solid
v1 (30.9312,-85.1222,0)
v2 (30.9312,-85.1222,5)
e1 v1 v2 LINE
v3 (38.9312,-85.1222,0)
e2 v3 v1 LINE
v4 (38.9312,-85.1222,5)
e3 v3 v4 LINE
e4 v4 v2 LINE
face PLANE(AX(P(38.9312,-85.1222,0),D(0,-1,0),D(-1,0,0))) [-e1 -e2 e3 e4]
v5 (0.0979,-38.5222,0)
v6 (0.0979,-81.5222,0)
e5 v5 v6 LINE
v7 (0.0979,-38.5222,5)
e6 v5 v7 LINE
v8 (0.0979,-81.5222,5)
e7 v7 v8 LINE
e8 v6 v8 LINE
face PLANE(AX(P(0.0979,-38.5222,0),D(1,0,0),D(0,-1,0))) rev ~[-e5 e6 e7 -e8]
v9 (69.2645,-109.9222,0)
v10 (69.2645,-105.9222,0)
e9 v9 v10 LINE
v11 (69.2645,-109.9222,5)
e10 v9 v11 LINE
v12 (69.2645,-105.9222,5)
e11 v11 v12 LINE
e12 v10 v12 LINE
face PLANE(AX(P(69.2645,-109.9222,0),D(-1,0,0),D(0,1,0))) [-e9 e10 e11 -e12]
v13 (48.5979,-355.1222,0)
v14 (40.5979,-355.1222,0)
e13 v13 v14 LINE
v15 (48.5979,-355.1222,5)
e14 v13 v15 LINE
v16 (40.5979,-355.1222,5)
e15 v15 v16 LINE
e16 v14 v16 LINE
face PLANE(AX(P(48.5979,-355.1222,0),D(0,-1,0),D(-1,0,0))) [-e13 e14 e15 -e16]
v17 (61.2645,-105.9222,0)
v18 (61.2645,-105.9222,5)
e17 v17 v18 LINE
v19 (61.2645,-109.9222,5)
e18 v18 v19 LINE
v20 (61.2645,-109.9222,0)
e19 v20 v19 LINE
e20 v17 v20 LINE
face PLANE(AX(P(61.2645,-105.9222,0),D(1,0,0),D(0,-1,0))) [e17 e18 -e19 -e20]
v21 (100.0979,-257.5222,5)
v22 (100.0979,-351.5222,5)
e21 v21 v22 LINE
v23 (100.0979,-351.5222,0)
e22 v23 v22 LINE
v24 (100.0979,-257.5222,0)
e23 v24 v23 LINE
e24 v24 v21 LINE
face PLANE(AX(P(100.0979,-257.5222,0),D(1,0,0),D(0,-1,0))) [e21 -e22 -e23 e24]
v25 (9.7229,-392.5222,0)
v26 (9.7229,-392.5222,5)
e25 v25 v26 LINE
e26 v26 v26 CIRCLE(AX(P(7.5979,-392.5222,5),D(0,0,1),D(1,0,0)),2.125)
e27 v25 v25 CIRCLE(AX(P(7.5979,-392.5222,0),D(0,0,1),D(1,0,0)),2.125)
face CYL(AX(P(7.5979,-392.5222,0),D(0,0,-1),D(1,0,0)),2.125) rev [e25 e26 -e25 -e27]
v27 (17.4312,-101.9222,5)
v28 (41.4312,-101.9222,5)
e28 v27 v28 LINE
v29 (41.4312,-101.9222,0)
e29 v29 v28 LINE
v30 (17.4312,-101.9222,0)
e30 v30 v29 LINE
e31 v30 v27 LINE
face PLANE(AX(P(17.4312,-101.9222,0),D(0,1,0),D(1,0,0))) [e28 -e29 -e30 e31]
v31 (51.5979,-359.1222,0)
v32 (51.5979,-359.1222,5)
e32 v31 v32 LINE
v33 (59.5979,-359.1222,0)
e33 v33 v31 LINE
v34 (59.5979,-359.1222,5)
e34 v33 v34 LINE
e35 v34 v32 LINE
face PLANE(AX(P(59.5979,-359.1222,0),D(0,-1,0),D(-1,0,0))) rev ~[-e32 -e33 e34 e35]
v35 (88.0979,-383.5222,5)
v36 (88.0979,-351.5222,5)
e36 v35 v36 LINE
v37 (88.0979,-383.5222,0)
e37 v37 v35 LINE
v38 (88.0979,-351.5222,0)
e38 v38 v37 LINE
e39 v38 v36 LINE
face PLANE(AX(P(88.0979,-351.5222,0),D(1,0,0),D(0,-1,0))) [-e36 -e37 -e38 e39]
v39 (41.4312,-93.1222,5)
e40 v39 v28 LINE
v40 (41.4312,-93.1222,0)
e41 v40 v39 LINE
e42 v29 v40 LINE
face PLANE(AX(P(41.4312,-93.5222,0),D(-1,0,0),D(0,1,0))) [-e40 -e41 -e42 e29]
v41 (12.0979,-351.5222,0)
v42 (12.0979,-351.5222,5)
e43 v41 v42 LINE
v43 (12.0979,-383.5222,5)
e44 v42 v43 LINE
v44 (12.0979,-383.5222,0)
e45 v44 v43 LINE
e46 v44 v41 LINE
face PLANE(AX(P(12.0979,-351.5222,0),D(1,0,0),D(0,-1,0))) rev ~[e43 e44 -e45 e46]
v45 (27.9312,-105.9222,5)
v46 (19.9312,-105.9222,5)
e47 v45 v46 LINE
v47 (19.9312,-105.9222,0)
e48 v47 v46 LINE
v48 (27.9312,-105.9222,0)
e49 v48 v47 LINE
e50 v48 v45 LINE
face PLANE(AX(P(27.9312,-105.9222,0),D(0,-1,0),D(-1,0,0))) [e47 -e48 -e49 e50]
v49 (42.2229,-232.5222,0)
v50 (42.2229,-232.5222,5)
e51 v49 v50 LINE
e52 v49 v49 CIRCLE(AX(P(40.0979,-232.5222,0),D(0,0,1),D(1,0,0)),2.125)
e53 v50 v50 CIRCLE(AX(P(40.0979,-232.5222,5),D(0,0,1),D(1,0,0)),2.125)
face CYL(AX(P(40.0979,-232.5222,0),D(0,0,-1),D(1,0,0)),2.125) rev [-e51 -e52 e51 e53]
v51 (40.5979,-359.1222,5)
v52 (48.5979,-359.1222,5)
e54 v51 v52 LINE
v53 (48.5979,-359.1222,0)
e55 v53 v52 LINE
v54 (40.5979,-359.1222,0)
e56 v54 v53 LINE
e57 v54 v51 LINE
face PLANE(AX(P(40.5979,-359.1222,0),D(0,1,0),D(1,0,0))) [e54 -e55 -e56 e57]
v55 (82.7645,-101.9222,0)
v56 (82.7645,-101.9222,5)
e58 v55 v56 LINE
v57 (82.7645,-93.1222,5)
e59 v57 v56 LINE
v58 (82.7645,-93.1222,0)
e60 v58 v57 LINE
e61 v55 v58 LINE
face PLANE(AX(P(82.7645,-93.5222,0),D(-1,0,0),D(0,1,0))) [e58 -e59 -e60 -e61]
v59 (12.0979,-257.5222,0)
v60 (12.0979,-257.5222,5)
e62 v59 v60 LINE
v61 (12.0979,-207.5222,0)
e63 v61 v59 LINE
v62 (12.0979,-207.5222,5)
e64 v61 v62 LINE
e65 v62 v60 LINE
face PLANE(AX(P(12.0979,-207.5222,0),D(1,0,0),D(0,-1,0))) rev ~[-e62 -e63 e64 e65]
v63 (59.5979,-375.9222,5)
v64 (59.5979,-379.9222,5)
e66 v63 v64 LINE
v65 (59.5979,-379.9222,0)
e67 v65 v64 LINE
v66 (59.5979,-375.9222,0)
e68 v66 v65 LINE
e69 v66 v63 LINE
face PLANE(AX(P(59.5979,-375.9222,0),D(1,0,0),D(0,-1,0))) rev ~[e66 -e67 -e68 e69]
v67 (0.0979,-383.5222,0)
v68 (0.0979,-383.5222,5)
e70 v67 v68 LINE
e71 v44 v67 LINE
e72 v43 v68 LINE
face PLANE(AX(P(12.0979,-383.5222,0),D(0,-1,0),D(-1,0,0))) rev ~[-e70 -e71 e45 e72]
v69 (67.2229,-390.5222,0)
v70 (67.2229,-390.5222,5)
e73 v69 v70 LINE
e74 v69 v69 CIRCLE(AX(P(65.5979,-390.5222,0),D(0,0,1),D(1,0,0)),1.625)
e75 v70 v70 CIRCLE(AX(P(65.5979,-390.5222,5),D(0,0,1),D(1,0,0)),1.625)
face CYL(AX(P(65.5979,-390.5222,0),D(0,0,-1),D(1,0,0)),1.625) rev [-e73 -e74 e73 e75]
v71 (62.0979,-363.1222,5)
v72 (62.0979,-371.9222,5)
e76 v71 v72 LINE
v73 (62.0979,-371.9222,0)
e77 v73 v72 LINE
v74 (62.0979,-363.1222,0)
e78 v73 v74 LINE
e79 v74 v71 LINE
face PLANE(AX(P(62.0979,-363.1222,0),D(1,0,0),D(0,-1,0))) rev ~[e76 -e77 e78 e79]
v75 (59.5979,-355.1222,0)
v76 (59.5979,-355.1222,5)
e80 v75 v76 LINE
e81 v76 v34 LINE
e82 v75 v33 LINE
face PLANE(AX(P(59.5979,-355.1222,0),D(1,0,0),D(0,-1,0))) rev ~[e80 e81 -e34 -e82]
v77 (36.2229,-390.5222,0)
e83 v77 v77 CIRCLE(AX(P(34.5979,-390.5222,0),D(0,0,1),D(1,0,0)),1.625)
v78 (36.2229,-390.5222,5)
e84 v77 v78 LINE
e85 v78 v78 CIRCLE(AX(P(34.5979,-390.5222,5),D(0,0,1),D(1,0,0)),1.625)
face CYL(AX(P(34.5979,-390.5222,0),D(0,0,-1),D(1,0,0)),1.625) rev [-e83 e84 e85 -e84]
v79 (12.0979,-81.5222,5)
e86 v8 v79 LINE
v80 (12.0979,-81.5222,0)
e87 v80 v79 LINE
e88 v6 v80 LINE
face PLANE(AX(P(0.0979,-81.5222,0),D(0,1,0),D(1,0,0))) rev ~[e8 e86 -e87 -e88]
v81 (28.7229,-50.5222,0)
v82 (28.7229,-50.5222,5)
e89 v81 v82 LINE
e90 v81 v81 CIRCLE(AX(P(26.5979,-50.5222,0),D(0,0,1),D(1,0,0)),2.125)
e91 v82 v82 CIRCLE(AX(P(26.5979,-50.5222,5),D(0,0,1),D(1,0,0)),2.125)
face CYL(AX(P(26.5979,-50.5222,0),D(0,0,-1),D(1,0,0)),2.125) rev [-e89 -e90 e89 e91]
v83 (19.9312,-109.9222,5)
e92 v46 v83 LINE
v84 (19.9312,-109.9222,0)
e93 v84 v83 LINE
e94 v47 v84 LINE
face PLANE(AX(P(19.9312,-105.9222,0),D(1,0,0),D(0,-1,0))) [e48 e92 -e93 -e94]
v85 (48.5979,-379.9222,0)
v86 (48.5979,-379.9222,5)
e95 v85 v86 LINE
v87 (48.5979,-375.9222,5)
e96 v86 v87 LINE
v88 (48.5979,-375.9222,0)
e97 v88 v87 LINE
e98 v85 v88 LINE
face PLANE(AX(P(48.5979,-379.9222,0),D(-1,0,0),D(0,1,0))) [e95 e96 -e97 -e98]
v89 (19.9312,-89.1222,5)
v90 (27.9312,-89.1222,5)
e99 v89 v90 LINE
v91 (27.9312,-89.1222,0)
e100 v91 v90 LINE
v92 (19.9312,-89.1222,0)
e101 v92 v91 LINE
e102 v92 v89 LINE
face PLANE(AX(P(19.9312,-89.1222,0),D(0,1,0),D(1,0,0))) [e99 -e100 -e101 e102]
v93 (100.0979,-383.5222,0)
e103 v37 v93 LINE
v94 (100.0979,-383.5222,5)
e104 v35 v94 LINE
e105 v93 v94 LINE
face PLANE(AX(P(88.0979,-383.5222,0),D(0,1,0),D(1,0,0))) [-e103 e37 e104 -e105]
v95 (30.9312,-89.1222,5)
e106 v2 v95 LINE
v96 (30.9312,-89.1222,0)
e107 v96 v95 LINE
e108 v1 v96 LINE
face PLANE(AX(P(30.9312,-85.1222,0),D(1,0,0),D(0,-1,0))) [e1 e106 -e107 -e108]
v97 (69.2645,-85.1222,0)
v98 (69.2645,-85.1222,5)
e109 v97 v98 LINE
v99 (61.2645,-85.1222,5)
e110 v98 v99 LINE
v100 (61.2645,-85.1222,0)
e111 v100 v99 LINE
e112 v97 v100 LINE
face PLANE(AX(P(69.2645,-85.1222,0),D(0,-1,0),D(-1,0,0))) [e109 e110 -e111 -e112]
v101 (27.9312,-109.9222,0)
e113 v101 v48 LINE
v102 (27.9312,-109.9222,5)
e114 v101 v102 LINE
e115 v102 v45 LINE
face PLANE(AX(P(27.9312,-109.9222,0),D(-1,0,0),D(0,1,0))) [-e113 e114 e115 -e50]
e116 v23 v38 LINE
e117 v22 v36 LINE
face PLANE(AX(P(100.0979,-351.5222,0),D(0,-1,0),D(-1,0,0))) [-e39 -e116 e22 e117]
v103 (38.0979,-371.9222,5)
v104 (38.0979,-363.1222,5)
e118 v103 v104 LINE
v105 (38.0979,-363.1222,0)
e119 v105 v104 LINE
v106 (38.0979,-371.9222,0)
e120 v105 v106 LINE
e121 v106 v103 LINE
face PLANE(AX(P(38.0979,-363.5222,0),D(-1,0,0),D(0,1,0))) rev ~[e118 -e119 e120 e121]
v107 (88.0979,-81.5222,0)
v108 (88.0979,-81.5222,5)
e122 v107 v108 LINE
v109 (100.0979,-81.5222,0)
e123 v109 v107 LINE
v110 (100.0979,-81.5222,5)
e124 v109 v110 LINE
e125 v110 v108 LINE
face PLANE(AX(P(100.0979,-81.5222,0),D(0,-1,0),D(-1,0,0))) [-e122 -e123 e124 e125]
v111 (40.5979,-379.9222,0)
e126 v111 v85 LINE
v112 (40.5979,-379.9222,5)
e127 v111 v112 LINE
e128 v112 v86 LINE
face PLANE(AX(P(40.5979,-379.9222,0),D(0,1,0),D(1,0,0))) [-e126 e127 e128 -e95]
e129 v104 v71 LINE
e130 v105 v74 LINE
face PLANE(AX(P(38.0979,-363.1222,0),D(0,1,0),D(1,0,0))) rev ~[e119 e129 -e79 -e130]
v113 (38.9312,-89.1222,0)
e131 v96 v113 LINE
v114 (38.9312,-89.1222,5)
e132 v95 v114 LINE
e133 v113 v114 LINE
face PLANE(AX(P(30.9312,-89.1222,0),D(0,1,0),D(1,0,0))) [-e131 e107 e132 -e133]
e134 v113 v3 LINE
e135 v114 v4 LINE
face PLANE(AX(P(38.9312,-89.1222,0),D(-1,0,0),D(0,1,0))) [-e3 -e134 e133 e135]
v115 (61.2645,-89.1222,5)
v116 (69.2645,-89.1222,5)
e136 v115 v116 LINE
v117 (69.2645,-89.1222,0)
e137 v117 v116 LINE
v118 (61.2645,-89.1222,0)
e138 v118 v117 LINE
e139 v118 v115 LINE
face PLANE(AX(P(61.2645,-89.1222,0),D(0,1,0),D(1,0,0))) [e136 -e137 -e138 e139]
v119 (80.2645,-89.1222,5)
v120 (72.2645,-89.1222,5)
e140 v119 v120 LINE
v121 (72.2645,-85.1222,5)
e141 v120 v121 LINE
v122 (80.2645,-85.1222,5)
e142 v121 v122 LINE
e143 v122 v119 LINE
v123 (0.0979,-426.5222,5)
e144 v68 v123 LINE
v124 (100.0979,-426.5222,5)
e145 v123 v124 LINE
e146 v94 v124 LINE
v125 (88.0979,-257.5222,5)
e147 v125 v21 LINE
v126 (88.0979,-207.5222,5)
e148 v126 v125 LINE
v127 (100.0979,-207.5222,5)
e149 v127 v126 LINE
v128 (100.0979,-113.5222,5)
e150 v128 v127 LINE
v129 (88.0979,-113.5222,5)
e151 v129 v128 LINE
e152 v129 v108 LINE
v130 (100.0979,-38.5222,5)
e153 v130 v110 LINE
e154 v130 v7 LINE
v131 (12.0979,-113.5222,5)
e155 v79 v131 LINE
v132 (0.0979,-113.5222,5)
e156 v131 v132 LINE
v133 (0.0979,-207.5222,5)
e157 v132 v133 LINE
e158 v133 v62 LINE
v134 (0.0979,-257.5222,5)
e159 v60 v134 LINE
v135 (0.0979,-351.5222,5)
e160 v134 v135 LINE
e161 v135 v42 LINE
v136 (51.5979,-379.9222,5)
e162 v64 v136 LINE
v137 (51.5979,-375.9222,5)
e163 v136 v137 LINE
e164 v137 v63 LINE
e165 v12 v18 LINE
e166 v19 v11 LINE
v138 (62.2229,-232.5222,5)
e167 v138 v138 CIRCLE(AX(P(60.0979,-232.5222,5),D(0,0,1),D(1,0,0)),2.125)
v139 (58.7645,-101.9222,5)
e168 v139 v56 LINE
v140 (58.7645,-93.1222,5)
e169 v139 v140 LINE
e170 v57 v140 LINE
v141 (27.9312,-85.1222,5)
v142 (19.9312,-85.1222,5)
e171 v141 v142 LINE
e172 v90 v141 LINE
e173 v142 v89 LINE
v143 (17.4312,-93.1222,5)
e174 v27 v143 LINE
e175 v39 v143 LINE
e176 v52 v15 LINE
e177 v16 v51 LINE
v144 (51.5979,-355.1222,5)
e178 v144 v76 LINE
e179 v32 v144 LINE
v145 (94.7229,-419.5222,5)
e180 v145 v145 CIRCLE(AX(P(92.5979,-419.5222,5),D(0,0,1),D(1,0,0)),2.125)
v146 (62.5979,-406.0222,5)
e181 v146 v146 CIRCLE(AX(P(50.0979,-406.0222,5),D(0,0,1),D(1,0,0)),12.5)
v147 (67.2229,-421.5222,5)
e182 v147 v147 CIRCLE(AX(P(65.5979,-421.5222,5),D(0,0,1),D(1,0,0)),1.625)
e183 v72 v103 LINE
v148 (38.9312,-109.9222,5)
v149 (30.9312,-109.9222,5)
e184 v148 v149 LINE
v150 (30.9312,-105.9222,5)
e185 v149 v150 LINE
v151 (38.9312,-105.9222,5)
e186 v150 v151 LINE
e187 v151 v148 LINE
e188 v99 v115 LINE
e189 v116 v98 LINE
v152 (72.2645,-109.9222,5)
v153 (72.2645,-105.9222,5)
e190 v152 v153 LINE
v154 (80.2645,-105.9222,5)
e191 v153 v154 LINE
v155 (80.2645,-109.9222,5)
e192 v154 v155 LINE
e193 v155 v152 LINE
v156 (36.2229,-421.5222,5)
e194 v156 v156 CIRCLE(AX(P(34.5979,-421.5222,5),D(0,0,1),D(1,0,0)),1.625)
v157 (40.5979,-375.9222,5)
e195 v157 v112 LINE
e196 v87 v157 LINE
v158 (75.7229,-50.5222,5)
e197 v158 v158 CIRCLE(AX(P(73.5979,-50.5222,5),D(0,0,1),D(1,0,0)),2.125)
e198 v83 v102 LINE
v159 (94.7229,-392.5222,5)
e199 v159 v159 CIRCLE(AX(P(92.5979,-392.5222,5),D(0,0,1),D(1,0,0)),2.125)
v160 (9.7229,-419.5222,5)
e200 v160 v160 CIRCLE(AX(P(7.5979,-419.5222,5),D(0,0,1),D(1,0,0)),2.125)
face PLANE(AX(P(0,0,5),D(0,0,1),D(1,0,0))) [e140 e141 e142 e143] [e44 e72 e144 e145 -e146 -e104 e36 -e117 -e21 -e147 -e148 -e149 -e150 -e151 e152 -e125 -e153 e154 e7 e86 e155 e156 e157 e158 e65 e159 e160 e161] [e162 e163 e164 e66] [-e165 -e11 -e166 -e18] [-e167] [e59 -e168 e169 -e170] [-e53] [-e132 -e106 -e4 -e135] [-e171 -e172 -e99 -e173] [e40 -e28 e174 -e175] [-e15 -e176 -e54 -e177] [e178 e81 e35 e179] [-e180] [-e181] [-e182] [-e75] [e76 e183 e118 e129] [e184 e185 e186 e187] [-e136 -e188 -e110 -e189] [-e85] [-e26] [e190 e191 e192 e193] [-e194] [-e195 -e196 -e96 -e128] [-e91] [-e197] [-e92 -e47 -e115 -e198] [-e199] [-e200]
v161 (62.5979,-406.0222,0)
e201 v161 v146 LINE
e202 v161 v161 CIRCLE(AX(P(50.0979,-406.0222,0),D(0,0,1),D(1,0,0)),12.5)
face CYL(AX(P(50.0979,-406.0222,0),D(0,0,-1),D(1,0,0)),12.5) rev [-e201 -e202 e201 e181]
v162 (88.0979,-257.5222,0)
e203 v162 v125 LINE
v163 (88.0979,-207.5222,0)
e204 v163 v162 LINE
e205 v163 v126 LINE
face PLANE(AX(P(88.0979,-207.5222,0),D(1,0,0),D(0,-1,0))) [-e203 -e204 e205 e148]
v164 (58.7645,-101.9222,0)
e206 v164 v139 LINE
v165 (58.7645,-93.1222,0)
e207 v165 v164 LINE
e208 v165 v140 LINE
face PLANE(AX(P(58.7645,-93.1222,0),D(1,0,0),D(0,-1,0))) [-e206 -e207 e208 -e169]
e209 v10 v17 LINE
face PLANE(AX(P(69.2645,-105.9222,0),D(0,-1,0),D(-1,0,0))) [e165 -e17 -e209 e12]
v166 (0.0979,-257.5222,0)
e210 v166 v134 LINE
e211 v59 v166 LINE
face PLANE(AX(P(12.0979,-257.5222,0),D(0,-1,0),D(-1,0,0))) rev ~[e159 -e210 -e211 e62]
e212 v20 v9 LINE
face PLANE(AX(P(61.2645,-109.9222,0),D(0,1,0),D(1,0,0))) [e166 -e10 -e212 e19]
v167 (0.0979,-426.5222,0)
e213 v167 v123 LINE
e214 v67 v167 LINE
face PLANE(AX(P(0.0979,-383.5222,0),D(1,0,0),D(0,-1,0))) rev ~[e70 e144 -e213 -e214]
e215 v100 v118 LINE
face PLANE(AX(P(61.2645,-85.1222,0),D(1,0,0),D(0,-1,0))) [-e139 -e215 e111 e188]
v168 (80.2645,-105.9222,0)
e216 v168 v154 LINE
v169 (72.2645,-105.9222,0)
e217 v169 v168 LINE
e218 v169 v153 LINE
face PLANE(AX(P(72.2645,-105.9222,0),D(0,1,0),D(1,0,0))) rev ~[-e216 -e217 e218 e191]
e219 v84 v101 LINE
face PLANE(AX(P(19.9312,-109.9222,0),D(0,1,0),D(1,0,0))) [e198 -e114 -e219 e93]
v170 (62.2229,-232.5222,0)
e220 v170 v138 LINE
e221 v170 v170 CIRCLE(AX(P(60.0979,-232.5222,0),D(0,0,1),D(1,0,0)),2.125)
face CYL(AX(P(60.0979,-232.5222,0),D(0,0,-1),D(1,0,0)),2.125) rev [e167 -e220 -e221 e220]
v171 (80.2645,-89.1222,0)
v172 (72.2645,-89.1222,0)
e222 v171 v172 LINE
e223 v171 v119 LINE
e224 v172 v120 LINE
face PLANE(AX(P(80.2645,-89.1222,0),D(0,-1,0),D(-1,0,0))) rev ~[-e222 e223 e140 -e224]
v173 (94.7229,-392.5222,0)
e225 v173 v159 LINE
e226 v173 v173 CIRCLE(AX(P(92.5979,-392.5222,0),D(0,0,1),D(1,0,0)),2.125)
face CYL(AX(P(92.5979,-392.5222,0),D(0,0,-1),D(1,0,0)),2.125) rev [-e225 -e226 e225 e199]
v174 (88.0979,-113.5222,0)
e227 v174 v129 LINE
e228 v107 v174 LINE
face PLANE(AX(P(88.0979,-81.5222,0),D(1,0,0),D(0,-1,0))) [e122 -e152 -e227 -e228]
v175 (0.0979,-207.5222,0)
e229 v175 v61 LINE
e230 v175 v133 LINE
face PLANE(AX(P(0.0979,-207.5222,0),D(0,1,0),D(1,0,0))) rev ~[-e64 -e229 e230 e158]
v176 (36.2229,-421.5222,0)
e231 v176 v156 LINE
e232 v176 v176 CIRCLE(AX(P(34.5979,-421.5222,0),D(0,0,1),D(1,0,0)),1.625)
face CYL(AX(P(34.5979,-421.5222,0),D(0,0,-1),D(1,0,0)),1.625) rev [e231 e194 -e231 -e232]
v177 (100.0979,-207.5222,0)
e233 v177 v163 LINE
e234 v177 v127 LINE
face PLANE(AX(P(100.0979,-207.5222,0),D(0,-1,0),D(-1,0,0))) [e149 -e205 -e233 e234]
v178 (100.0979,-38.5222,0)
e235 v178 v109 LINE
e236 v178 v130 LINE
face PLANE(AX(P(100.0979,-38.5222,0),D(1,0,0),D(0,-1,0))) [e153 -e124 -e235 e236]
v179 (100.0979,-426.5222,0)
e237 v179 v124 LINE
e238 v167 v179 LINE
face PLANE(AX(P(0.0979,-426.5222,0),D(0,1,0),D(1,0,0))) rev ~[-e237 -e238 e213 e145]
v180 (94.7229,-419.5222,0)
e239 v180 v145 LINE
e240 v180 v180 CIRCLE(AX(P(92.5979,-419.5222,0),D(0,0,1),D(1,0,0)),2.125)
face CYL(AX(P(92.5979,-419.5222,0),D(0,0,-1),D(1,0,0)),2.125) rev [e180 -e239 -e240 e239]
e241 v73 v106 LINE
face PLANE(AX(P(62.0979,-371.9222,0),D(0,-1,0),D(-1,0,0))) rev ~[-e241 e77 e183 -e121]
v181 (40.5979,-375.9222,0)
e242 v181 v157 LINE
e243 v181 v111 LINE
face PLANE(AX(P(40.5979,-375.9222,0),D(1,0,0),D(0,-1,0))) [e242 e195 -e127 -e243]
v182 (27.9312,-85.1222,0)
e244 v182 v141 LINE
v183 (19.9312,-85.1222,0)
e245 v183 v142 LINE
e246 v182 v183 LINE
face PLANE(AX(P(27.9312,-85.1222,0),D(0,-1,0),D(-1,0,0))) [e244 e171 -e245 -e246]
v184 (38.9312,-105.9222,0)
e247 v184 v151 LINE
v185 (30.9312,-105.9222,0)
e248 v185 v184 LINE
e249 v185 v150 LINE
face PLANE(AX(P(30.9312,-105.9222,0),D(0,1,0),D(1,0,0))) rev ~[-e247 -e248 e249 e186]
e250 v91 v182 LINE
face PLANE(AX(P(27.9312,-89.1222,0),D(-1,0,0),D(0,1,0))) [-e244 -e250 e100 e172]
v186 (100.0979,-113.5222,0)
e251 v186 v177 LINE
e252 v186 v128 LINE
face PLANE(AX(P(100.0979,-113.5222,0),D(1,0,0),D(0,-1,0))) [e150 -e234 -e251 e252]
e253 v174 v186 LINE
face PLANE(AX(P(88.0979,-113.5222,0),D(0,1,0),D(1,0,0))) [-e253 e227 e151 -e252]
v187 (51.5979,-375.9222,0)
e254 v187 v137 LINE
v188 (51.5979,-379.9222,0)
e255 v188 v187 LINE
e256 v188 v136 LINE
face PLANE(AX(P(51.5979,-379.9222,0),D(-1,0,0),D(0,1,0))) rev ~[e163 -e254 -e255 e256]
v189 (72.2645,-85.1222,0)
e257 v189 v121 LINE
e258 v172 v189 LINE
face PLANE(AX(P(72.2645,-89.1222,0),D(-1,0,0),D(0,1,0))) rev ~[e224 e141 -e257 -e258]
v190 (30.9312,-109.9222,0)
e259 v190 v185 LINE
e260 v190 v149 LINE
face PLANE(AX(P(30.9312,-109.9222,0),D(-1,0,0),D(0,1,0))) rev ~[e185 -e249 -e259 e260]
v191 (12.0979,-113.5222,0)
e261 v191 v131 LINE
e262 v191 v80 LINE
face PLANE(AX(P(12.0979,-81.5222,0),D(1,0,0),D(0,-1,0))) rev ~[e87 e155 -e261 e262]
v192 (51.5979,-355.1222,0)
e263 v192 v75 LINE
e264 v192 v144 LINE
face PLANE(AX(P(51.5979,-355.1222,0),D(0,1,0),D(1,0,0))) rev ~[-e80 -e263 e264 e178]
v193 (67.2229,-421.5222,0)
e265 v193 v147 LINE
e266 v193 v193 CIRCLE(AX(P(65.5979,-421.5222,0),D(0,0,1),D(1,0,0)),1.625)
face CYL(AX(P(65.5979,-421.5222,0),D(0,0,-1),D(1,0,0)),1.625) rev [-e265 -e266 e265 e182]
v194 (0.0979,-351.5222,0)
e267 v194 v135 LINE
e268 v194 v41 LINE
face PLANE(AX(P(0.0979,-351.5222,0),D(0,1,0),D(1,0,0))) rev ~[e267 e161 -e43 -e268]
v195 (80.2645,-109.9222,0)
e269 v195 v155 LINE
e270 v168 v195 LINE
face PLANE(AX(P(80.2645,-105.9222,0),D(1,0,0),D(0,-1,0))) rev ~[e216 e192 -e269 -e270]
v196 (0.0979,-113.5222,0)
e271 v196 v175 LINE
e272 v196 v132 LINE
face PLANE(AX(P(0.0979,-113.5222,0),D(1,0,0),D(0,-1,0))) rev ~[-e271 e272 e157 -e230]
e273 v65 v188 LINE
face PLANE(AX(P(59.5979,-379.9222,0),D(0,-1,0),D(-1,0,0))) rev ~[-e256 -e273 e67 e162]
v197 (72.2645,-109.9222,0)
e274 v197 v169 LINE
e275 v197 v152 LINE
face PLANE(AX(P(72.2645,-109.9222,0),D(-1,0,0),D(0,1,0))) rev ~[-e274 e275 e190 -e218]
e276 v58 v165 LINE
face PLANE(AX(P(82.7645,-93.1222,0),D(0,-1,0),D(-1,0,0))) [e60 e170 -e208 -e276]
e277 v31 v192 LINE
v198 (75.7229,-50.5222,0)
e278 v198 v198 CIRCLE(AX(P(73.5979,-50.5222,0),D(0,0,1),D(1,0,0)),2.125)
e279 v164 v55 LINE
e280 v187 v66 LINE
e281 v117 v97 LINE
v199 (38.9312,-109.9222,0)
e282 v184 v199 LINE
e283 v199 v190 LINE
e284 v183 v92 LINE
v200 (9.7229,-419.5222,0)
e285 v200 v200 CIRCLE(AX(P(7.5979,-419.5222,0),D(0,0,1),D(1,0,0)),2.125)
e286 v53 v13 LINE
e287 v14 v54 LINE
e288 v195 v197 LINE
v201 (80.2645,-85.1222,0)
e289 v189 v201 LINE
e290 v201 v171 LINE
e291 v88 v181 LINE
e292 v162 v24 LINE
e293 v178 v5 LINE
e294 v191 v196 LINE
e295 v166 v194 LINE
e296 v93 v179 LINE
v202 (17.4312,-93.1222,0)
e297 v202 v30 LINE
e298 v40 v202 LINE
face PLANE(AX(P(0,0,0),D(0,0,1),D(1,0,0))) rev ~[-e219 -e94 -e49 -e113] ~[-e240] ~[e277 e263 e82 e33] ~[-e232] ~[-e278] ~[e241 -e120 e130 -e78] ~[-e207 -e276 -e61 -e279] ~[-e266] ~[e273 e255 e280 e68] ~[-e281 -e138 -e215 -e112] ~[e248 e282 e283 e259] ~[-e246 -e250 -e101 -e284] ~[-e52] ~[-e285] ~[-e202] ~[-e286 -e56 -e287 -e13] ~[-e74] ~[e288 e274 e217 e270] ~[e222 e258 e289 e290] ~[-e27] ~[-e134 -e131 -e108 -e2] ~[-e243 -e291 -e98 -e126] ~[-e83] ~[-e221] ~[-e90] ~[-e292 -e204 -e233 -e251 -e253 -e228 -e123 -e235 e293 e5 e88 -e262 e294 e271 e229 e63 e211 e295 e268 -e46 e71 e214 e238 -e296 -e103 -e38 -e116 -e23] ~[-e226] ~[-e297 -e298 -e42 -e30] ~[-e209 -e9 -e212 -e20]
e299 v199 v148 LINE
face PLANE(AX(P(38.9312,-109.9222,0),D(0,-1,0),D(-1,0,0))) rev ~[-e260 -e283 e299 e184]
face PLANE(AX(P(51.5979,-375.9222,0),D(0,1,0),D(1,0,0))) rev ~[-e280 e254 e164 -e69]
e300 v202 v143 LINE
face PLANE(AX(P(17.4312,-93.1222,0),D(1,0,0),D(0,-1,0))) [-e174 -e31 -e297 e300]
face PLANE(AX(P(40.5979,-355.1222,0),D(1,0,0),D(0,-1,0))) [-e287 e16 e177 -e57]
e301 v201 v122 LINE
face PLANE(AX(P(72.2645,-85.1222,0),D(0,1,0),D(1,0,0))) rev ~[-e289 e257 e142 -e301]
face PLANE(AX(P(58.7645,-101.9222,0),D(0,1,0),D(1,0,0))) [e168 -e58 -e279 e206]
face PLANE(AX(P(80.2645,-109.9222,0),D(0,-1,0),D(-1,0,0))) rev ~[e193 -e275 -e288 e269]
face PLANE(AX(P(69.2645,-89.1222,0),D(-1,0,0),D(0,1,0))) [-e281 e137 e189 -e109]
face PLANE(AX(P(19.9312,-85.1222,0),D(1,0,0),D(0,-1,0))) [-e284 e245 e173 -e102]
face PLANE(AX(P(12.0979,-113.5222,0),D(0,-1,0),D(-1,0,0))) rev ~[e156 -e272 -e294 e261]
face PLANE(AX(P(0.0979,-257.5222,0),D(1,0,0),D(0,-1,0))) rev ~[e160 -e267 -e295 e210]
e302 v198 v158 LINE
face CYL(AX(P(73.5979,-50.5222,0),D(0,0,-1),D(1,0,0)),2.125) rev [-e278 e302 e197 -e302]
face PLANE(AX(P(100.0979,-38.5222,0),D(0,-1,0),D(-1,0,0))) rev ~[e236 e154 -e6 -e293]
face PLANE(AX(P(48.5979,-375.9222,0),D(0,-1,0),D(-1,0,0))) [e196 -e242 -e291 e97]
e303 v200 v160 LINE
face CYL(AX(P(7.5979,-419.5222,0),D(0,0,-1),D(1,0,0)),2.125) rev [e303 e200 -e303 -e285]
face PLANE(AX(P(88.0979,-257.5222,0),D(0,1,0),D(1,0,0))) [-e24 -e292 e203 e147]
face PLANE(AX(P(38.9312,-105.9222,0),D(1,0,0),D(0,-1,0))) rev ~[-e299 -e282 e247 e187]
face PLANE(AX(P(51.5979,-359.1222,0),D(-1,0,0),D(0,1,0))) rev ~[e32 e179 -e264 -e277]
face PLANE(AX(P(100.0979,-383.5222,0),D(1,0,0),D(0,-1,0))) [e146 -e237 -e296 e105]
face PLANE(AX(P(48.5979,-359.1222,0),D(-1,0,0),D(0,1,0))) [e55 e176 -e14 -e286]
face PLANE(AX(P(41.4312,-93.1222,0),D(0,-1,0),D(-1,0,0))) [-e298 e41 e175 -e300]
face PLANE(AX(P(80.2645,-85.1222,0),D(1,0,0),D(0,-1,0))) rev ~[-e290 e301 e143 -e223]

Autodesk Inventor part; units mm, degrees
ref_plane "YZ Plane" through (0, 0, 0) normal (1, 0, 0) x (0, 1, 0)
ref_plane "XZ Plane" through (0, 0, 0) normal (0, 1, 0) x (-1, 0, 0)
ref_plane "XY Plane" through (0, 0, 0) normal (0, 0, 1) x (1, 0, 0)
sketch "Sketch1" plane through (0, 0, 0) normal (0, 0, 1) x (1, 0, 0)
  line L0 (100.0979, -38.5222) -> (0.0979, -38.5222)
  line L1 (0.0979, -426.5222) -> (100.0979, -426.5222)
  line L2 (82.7645, -93.1222) -> (58.7645, -93.1222)
  line L3 (58.7645, -93.1222) -> (58.7645, -101.9222)
  line L4 (58.7645, -101.9222) -> (82.7645, -101.9222)
  line L5 (82.7645, -101.9222) -> (82.7645, -93.1222)
  line L6 (41.4312, -93.1222) -> (17.4312, -93.1222)
  line L7 (17.4312, -93.1222) -> (17.4312, -101.9222)
  line L8 (17.4312, -101.9222) -> (41.4312, -101.9222)
  line L9 (41.4312, -101.9222) -> (41.4312, -93.1222)
  line L10 (38.0979, -363.1222) -> (62.0979, -363.1222)
  line L11 (62.0979, -363.1222) -> (62.0979, -371.9222)
  line L12 (62.0979, -371.9222) -> (38.0979, -371.9222)
  line L13 (38.0979, -371.9222) -> (38.0979, -363.1222)
  line L14 (173.8639, -93.5222) -> (-221.1361, -93.5222)
  line L15 (173.8639, -101.5222) -> (-221.1361, -101.5222)
  line L16 (173.8639, -371.5222) -> (-221.1361, -371.5222)
  line L17 (173.8639, -363.5222) -> (-221.1361, -363.5222)
  line L18 (34.8712, -93.1222) -> (34.8712, -93.5222) construction
  line L19 (34.8712, -101.5222) -> (34.8712, -101.9222) construction
  line L20 (58.7645, -93.1222) -> (41.4312, -93.1222) construction
  line L21 (10.9151, -363.1222) -> (10.9151, -363.5222) construction
  line L22 (10.9151, -371.5222) -> (10.9151, -371.9222) construction
  line L23 (38.0979, -363.1222) -> (12.0979, -363.1222) construction
  line L24 (62.0979, -363.1222) -> (88.0979, -363.1222) construction
  line L25 (0, 0) -> (0, -9.7735) construction
  circle A0 centre (65.5979, -390.5222) radius 1.625
  circle A1 centre (65.5979, -421.5222) radius 1.625
  circle A2 centre (34.5979, -421.5222) radius 1.625
  circle A3 centre (34.5979, -390.5222) radius 1.625
  line L26 (65.5979, -390.5222) -> (34.5979, -390.5222) construction
  line L27 (34.5979, -390.5222) -> (34.5979, -421.5222) construction
  line L28 (34.5979, -421.5222) -> (65.5979, -421.5222) construction
  line L29 (65.5979, -421.5222) -> (65.5979, -390.5222) construction
  circle A4 centre (50.0979, -406.0222) radius 12.5
  line L30 (50.0979, -390.5222) -> (50.0979, -406.0222) construction
  line L31 (50.0979, -406.0222) -> (65.5979, -406.0222) construction
  line L32 (72.2645, -85.1222) -> (80.2645, -85.1222)
  line L33 (80.2645, -85.1222) -> (80.2645, -89.1222)
  line L34 (80.2645, -89.1222) -> (72.2645, -89.1222)
  line L35 (72.2645, -89.1222) -> (72.2645, -85.1222)
  line L36 (80.2645, -89.1222) -> (82.7645, -89.1222) construction
  line L37 (82.7645, -89.1222) -> (82.7645, -93.1222) construction
  line L38 (69.2645, -85.1222) -> (61.2645, -85.1222)
  line L39 (61.2645, -85.1222) -> (61.2645, -89.1222)
  line L40 (61.2645, -89.1222) -> (69.2645, -89.1222)
  line L41 (69.2645, -89.1222) -> (69.2645, -85.1222)
  line L42 (58.7645, -93.1222) -> (58.7645, -89.1222) construction
  line L43 (58.7645, -89.1222) -> (61.2645, -89.1222) construction
  line L44 (72.2645, -105.9222) -> (80.2645, -105.9222)
  line L45 (80.2645, -105.9222) -> (80.2645, -109.9222)
  line L46 (80.2645, -109.9222) -> (72.2645, -109.9222)
  line L47 (72.2645, -109.9222) -> (72.2645, -105.9222)
  line L48 (80.2645, -105.9222) -> (80.2645, -101.9222) construction
  line L49 (69.2645, -105.9222) -> (61.2645, -105.9222)
  line L50 (61.2645, -105.9222) -> (61.2645, -109.9222)
  line L51 (61.2645, -109.9222) -> (69.2645, -109.9222)
  line L52 (69.2645, -109.9222) -> (69.2645, -105.9222)
  line L53 (38.9312, -85.1222) -> (30.9312, -85.1222)
  line L54 (30.9312, -85.1222) -> (30.9312, -89.1222)
  line L55 (30.9312, -89.1222) -> (38.9312, -89.1222)
  line L56 (38.9312, -89.1222) -> (38.9312, -85.1222)
  line L57 (27.9312, -85.1222) -> (19.9312, -85.1222)
  line L58 (19.9312, -85.1222) -> (19.9312, -89.1222)
  line L59 (19.9312, -89.1222) -> (27.9312, -89.1222)
  line L60 (27.9312, -89.1222) -> (27.9312, -85.1222)
  line L61 (30.9312, -105.9222) -> (38.9312, -105.9222)
  line L62 (38.9312, -105.9222) -> (38.9312, -109.9222)
  line L63 (38.9312, -109.9222) -> (30.9312, -109.9222)
  line L64 (30.9312, -109.9222) -> (30.9312, -105.9222)
  line L65 (27.9312, -105.9222) -> (19.9312, -105.9222)
  line L66 (19.9312, -105.9222) -> (19.9312, -109.9222)
  line L67 (19.9312, -109.9222) -> (27.9312, -109.9222)
  line L68 (27.9312, -109.9222) -> (27.9312, -105.9222)
  line L69 (41.4312, -93.1222) -> (41.4312, -89.1222) construction
  line L70 (41.4312, -89.1222) -> (38.9312, -89.1222) construction
  line L71 (17.4312, -93.1222) -> (17.4312, -89.1222) construction
  line L72 (17.4312, -89.1222) -> (19.9312, -89.1222) construction
  line L73 (51.5979, -355.1222) -> (59.5979, -355.1222)
  line L74 (59.5979, -355.1222) -> (59.5979, -359.1222)
  line L75 (59.5979, -359.1222) -> (51.5979, -359.1222)
  line L76 (51.5979, -359.1222) -> (51.5979, -355.1222)
  line L77 (48.5979, -355.1222) -> (40.5979, -355.1222)
  line L78 (40.5979, -355.1222) -> (40.5979, -359.1222)
  line L79 (40.5979, -359.1222) -> (48.5979, -359.1222)
  line L80 (48.5979, -359.1222) -> (48.5979, -355.1222)
  line L81 (51.5979, -375.9222) -> (59.5979, -375.9222)
  line L82 (59.5979, -375.9222) -> (59.5979, -379.9222)
  line L83 (59.5979, -379.9222) -> (51.5979, -379.9222)
  line L84 (51.5979, -379.9222) -> (51.5979, -375.9222)
  line L85 (48.5979, -375.9222) -> (40.5979, -375.9222)
  line L86 (40.5979, -375.9222) -> (40.5979, -379.9222)
  line L87 (40.5979, -379.9222) -> (48.5979, -379.9222)
  line L88 (48.5979, -379.9222) -> (48.5979, -375.9222)
  line L89 (59.5979, -359.1222) -> (62.0979, -359.1222) construction
  line L90 (62.0979, -359.1222) -> (62.0979, -363.1222) construction
  line L91 (38.0979, -363.1222) -> (38.0979, -359.1222) construction
  line L92 (38.0979, -359.1222) -> (40.5979, -359.1222) construction
  line L93 (59.5979, -375.9222) -> (59.5979, -371.9222) construction
  circle A5 centre (73.5979, -50.5222) radius 2.125
  circle A6 centre (26.5979, -50.5222) radius 2.125
  line L94 (73.5979, -50.5222) -> (100.0979, -50.5222) construction
  line L95 (26.5979, -50.5222) -> (0.0979, -50.5222) construction
  line L96 (96.5979, -57.5222) -> (88.5979, -57.5222) projected
  line L97 (11.5979, -57.5222) -> (3.5979, -57.5222) projected
  line L98 (8.0979, -43.5222) -> (8.0979, -57.5222) projected
  line L99 (7.0979, -57.5222) -> (7.0979, -43.5222) projected
  line L100 (93.0979, -43.5222) -> (93.0979, -57.5222) projected
  line L101 (92.0979, -57.5222) -> (92.0979, -43.5222) projected
  line L102 (7.5979, -57.5222) -> (7.5979, -426.5222) construction
  line L103 (92.5979, -57.5222) -> (92.5979, -426.5222) construction
  circle A7 centre (92.5979, -419.5222) radius 2.125
  circle A8 centre (92.5979, -392.5222) radius 2.125
  circle A9 centre (7.5979, -419.5222) radius 2.125
  circle A10 centre (7.5979, -392.5222) radius 2.125
  line L104 (92.5979, -419.5222) -> (7.5979, -419.5222) construction
  line L105 (92.5979, -392.5222) -> (7.5979, -392.5222) construction
  line L106 (100.0979, -38.5222) -> (100.0979, -81.5222)
  line L107 (100.0979, -81.5222) -> (88.0979, -81.5222)
  line L108 (88.0979, -81.5222) -> (88.0979, -113.5222)
  line L109 (88.0979, -113.5222) -> (100.0979, -113.5222)
  line L110 (100.0979, -351.5222) -> (88.0979, -351.5222)
  line L111 (88.0979, -351.5222) -> (88.0979, -383.5222)
  line L112 (88.0979, -383.5222) -> (100.0979, -383.5222)
  line L113 (100.0979, -383.5222) -> (100.0979, -426.5222)
  line L114 (100.0979, -81.5222) -> (100.0979, -93.5222) construction
  line L115 (100.0979, -101.5222) -> (100.0979, -113.5222) construction
  line L116 (0.0979, -38.5222) -> (0.0979, -81.5222)
  line L117 (0.0979, -81.5222) -> (12.0979, -81.5222)
  line L118 (12.0979, -81.5222) -> (12.0979, -113.5222)
  line L119 (12.0979, -113.5222) -> (0.0979, -113.5222)
  line L120 (0.0979, -351.5222) -> (12.0979, -351.5222)
  line L121 (12.0979, -351.5222) -> (12.0979, -383.5222)
  line L122 (12.0979, -383.5222) -> (0.0979, -383.5222)
  line L123 (0.0979, -383.5222) -> (0.0979, -426.5222)
  line L124 (98.1469, -351.5222) -> (98.1469, -363.5222) construction
  line L125 (98.1469, -383.5222) -> (98.1469, -371.5222) construction
  line L126 (17.4312, -93.1222) -> (12.0979, -93.1222) construction
  line L127 (82.7645, -93.1222) -> (88.0979, -93.1222) construction
  line L128 (82.7645, -97.5222) -> (100.0979, -97.5222) construction
  line L129 (58.7645, -97.5222) -> (41.4312, -97.5222) construction
  line L130 (17.4312, -97.5222) -> (0.0979, -97.5222) construction
  line L131 (38.0979, -367.5222) -> (0.0979, -367.5222) construction
  line L132 (62.0979, -367.5222) -> (100.0979, -367.5222) construction
  line L133 (100.0979, -113.5222) -> (100.0979, -207.5222)
  line L134 (100.0979, -207.5222) -> (88.0979, -207.5222)
  line L135 (88.0979, -207.5222) -> (88.0979, -257.5222)
  line L136 (88.0979, -257.5222) -> (100.0979, -257.5222)
  line L137 (100.0979, -257.5222) -> (100.0979, -351.5222)
  line L138 (0.0979, -113.5222) -> (0.0979, -207.5222)
  line L139 (0.0979, -207.5222) -> (12.0979, -207.5222)
  line L140 (12.0979, -207.5222) -> (12.0979, -257.5222)
  line L141 (12.0979, -257.5222) -> (0.0979, -257.5222)
  line L142 (0.0979, -257.5222) -> (0.0979, -351.5222)
  line L143 (34.5979, -390.5222) -> (0.0979, -390.5222) construction
  line L144 (65.5979, -390.5222) -> (100.0979, -390.5222) construction
  circle A11 centre (40.0979, -232.5222) radius 2.125
  circle A12 centre (60.0979, -232.5222) radius 2.125
  line L145 (40.0979, -232.5222) -> (60.0979, -232.5222) construction
  line L146 (40.0979, -232.5222) -> (12.0979, -232.5222) construction
  line L147 (60.0979, -232.5222) -> (88.0979, -232.5222) construction
  dimension "d1" = 24
  dimension "d2" = 8.8
  dimension "d3" = 100
  dimension "d9" = 55
  dimension "d10" = 55
  dimension "d11" = 3.25
  dimension "d12" = 31
  dimension "d13" = 5
  dimension "d14" = 25
  dimension "d15" = 4
  dimension "d16" = 8
  dimension "d17" = 4
  dimension "d18" = 2.5
  dimension "d19" = 4.25
  dimension "d20" = 4.25
  dimension "d21" = 47
  dimension "d22" = 12
  dimension "d23" = 4.25
  dimension "d24" = 4.25
  dimension "d25" = 27
  dimension "d26" = 7
  dimension "d27" = 4.25
  dimension "d28" = 4.25
  dimension "d29" = 32
  dimension "d30" = 12
  dimension "d31" = 50
  dimension "d32" = 4.25
  dimension "d33" = 4.25
  dimension "d34" = 20
  dimension "d35" = 25
extrude "Extrusion1" add sketch "Sketch1" along normal blind 5 contours L106 L107 L108 L14 L5 L2 L3 L9 L6 L7 L118 L117 L116 L0 | L108 L15 L5 L14 | L14 L7 L15 L118 | L108 L109 L133 L134 L135 L136 L137 L110 L111 L17 L11 L10 L13 L121 L120 L142 L141 L140 L139 L138 L119 L118 L15 L7 L8 L9 L3 L4 L5 | L3 L15 L9 L14 | L111 L16 L11 L17 | L17 L13 L16 L121 | L111 L112 L113 L1 L123 L122 L121 L16 L13 L12 L11
sketch "Sketch2" plane through (17.4312, -101.9222, 0) normal (1, 0, 0) x (0, 0, -1)
  circle A0 centre (6.0737, 4.4) radius 7.5
  point P0 (0, 101.9222)
  point P1 (0, 8.8)
  point P2 (0, 0)
  dimension "d6" = 15
sketch "Sketch3" plane through (38.0979, -371.9222, 0) normal (1, 0, 0) x (0, 0, -1)
  circle A0 centre (6.0737, 4.4) radius 7.5
  point P0 (0, 371.9222)
  point P1 (0, 8.8)
  point P2 (0, 0)
  dimension "d8" = 15
properties part number "XCartFloor"
